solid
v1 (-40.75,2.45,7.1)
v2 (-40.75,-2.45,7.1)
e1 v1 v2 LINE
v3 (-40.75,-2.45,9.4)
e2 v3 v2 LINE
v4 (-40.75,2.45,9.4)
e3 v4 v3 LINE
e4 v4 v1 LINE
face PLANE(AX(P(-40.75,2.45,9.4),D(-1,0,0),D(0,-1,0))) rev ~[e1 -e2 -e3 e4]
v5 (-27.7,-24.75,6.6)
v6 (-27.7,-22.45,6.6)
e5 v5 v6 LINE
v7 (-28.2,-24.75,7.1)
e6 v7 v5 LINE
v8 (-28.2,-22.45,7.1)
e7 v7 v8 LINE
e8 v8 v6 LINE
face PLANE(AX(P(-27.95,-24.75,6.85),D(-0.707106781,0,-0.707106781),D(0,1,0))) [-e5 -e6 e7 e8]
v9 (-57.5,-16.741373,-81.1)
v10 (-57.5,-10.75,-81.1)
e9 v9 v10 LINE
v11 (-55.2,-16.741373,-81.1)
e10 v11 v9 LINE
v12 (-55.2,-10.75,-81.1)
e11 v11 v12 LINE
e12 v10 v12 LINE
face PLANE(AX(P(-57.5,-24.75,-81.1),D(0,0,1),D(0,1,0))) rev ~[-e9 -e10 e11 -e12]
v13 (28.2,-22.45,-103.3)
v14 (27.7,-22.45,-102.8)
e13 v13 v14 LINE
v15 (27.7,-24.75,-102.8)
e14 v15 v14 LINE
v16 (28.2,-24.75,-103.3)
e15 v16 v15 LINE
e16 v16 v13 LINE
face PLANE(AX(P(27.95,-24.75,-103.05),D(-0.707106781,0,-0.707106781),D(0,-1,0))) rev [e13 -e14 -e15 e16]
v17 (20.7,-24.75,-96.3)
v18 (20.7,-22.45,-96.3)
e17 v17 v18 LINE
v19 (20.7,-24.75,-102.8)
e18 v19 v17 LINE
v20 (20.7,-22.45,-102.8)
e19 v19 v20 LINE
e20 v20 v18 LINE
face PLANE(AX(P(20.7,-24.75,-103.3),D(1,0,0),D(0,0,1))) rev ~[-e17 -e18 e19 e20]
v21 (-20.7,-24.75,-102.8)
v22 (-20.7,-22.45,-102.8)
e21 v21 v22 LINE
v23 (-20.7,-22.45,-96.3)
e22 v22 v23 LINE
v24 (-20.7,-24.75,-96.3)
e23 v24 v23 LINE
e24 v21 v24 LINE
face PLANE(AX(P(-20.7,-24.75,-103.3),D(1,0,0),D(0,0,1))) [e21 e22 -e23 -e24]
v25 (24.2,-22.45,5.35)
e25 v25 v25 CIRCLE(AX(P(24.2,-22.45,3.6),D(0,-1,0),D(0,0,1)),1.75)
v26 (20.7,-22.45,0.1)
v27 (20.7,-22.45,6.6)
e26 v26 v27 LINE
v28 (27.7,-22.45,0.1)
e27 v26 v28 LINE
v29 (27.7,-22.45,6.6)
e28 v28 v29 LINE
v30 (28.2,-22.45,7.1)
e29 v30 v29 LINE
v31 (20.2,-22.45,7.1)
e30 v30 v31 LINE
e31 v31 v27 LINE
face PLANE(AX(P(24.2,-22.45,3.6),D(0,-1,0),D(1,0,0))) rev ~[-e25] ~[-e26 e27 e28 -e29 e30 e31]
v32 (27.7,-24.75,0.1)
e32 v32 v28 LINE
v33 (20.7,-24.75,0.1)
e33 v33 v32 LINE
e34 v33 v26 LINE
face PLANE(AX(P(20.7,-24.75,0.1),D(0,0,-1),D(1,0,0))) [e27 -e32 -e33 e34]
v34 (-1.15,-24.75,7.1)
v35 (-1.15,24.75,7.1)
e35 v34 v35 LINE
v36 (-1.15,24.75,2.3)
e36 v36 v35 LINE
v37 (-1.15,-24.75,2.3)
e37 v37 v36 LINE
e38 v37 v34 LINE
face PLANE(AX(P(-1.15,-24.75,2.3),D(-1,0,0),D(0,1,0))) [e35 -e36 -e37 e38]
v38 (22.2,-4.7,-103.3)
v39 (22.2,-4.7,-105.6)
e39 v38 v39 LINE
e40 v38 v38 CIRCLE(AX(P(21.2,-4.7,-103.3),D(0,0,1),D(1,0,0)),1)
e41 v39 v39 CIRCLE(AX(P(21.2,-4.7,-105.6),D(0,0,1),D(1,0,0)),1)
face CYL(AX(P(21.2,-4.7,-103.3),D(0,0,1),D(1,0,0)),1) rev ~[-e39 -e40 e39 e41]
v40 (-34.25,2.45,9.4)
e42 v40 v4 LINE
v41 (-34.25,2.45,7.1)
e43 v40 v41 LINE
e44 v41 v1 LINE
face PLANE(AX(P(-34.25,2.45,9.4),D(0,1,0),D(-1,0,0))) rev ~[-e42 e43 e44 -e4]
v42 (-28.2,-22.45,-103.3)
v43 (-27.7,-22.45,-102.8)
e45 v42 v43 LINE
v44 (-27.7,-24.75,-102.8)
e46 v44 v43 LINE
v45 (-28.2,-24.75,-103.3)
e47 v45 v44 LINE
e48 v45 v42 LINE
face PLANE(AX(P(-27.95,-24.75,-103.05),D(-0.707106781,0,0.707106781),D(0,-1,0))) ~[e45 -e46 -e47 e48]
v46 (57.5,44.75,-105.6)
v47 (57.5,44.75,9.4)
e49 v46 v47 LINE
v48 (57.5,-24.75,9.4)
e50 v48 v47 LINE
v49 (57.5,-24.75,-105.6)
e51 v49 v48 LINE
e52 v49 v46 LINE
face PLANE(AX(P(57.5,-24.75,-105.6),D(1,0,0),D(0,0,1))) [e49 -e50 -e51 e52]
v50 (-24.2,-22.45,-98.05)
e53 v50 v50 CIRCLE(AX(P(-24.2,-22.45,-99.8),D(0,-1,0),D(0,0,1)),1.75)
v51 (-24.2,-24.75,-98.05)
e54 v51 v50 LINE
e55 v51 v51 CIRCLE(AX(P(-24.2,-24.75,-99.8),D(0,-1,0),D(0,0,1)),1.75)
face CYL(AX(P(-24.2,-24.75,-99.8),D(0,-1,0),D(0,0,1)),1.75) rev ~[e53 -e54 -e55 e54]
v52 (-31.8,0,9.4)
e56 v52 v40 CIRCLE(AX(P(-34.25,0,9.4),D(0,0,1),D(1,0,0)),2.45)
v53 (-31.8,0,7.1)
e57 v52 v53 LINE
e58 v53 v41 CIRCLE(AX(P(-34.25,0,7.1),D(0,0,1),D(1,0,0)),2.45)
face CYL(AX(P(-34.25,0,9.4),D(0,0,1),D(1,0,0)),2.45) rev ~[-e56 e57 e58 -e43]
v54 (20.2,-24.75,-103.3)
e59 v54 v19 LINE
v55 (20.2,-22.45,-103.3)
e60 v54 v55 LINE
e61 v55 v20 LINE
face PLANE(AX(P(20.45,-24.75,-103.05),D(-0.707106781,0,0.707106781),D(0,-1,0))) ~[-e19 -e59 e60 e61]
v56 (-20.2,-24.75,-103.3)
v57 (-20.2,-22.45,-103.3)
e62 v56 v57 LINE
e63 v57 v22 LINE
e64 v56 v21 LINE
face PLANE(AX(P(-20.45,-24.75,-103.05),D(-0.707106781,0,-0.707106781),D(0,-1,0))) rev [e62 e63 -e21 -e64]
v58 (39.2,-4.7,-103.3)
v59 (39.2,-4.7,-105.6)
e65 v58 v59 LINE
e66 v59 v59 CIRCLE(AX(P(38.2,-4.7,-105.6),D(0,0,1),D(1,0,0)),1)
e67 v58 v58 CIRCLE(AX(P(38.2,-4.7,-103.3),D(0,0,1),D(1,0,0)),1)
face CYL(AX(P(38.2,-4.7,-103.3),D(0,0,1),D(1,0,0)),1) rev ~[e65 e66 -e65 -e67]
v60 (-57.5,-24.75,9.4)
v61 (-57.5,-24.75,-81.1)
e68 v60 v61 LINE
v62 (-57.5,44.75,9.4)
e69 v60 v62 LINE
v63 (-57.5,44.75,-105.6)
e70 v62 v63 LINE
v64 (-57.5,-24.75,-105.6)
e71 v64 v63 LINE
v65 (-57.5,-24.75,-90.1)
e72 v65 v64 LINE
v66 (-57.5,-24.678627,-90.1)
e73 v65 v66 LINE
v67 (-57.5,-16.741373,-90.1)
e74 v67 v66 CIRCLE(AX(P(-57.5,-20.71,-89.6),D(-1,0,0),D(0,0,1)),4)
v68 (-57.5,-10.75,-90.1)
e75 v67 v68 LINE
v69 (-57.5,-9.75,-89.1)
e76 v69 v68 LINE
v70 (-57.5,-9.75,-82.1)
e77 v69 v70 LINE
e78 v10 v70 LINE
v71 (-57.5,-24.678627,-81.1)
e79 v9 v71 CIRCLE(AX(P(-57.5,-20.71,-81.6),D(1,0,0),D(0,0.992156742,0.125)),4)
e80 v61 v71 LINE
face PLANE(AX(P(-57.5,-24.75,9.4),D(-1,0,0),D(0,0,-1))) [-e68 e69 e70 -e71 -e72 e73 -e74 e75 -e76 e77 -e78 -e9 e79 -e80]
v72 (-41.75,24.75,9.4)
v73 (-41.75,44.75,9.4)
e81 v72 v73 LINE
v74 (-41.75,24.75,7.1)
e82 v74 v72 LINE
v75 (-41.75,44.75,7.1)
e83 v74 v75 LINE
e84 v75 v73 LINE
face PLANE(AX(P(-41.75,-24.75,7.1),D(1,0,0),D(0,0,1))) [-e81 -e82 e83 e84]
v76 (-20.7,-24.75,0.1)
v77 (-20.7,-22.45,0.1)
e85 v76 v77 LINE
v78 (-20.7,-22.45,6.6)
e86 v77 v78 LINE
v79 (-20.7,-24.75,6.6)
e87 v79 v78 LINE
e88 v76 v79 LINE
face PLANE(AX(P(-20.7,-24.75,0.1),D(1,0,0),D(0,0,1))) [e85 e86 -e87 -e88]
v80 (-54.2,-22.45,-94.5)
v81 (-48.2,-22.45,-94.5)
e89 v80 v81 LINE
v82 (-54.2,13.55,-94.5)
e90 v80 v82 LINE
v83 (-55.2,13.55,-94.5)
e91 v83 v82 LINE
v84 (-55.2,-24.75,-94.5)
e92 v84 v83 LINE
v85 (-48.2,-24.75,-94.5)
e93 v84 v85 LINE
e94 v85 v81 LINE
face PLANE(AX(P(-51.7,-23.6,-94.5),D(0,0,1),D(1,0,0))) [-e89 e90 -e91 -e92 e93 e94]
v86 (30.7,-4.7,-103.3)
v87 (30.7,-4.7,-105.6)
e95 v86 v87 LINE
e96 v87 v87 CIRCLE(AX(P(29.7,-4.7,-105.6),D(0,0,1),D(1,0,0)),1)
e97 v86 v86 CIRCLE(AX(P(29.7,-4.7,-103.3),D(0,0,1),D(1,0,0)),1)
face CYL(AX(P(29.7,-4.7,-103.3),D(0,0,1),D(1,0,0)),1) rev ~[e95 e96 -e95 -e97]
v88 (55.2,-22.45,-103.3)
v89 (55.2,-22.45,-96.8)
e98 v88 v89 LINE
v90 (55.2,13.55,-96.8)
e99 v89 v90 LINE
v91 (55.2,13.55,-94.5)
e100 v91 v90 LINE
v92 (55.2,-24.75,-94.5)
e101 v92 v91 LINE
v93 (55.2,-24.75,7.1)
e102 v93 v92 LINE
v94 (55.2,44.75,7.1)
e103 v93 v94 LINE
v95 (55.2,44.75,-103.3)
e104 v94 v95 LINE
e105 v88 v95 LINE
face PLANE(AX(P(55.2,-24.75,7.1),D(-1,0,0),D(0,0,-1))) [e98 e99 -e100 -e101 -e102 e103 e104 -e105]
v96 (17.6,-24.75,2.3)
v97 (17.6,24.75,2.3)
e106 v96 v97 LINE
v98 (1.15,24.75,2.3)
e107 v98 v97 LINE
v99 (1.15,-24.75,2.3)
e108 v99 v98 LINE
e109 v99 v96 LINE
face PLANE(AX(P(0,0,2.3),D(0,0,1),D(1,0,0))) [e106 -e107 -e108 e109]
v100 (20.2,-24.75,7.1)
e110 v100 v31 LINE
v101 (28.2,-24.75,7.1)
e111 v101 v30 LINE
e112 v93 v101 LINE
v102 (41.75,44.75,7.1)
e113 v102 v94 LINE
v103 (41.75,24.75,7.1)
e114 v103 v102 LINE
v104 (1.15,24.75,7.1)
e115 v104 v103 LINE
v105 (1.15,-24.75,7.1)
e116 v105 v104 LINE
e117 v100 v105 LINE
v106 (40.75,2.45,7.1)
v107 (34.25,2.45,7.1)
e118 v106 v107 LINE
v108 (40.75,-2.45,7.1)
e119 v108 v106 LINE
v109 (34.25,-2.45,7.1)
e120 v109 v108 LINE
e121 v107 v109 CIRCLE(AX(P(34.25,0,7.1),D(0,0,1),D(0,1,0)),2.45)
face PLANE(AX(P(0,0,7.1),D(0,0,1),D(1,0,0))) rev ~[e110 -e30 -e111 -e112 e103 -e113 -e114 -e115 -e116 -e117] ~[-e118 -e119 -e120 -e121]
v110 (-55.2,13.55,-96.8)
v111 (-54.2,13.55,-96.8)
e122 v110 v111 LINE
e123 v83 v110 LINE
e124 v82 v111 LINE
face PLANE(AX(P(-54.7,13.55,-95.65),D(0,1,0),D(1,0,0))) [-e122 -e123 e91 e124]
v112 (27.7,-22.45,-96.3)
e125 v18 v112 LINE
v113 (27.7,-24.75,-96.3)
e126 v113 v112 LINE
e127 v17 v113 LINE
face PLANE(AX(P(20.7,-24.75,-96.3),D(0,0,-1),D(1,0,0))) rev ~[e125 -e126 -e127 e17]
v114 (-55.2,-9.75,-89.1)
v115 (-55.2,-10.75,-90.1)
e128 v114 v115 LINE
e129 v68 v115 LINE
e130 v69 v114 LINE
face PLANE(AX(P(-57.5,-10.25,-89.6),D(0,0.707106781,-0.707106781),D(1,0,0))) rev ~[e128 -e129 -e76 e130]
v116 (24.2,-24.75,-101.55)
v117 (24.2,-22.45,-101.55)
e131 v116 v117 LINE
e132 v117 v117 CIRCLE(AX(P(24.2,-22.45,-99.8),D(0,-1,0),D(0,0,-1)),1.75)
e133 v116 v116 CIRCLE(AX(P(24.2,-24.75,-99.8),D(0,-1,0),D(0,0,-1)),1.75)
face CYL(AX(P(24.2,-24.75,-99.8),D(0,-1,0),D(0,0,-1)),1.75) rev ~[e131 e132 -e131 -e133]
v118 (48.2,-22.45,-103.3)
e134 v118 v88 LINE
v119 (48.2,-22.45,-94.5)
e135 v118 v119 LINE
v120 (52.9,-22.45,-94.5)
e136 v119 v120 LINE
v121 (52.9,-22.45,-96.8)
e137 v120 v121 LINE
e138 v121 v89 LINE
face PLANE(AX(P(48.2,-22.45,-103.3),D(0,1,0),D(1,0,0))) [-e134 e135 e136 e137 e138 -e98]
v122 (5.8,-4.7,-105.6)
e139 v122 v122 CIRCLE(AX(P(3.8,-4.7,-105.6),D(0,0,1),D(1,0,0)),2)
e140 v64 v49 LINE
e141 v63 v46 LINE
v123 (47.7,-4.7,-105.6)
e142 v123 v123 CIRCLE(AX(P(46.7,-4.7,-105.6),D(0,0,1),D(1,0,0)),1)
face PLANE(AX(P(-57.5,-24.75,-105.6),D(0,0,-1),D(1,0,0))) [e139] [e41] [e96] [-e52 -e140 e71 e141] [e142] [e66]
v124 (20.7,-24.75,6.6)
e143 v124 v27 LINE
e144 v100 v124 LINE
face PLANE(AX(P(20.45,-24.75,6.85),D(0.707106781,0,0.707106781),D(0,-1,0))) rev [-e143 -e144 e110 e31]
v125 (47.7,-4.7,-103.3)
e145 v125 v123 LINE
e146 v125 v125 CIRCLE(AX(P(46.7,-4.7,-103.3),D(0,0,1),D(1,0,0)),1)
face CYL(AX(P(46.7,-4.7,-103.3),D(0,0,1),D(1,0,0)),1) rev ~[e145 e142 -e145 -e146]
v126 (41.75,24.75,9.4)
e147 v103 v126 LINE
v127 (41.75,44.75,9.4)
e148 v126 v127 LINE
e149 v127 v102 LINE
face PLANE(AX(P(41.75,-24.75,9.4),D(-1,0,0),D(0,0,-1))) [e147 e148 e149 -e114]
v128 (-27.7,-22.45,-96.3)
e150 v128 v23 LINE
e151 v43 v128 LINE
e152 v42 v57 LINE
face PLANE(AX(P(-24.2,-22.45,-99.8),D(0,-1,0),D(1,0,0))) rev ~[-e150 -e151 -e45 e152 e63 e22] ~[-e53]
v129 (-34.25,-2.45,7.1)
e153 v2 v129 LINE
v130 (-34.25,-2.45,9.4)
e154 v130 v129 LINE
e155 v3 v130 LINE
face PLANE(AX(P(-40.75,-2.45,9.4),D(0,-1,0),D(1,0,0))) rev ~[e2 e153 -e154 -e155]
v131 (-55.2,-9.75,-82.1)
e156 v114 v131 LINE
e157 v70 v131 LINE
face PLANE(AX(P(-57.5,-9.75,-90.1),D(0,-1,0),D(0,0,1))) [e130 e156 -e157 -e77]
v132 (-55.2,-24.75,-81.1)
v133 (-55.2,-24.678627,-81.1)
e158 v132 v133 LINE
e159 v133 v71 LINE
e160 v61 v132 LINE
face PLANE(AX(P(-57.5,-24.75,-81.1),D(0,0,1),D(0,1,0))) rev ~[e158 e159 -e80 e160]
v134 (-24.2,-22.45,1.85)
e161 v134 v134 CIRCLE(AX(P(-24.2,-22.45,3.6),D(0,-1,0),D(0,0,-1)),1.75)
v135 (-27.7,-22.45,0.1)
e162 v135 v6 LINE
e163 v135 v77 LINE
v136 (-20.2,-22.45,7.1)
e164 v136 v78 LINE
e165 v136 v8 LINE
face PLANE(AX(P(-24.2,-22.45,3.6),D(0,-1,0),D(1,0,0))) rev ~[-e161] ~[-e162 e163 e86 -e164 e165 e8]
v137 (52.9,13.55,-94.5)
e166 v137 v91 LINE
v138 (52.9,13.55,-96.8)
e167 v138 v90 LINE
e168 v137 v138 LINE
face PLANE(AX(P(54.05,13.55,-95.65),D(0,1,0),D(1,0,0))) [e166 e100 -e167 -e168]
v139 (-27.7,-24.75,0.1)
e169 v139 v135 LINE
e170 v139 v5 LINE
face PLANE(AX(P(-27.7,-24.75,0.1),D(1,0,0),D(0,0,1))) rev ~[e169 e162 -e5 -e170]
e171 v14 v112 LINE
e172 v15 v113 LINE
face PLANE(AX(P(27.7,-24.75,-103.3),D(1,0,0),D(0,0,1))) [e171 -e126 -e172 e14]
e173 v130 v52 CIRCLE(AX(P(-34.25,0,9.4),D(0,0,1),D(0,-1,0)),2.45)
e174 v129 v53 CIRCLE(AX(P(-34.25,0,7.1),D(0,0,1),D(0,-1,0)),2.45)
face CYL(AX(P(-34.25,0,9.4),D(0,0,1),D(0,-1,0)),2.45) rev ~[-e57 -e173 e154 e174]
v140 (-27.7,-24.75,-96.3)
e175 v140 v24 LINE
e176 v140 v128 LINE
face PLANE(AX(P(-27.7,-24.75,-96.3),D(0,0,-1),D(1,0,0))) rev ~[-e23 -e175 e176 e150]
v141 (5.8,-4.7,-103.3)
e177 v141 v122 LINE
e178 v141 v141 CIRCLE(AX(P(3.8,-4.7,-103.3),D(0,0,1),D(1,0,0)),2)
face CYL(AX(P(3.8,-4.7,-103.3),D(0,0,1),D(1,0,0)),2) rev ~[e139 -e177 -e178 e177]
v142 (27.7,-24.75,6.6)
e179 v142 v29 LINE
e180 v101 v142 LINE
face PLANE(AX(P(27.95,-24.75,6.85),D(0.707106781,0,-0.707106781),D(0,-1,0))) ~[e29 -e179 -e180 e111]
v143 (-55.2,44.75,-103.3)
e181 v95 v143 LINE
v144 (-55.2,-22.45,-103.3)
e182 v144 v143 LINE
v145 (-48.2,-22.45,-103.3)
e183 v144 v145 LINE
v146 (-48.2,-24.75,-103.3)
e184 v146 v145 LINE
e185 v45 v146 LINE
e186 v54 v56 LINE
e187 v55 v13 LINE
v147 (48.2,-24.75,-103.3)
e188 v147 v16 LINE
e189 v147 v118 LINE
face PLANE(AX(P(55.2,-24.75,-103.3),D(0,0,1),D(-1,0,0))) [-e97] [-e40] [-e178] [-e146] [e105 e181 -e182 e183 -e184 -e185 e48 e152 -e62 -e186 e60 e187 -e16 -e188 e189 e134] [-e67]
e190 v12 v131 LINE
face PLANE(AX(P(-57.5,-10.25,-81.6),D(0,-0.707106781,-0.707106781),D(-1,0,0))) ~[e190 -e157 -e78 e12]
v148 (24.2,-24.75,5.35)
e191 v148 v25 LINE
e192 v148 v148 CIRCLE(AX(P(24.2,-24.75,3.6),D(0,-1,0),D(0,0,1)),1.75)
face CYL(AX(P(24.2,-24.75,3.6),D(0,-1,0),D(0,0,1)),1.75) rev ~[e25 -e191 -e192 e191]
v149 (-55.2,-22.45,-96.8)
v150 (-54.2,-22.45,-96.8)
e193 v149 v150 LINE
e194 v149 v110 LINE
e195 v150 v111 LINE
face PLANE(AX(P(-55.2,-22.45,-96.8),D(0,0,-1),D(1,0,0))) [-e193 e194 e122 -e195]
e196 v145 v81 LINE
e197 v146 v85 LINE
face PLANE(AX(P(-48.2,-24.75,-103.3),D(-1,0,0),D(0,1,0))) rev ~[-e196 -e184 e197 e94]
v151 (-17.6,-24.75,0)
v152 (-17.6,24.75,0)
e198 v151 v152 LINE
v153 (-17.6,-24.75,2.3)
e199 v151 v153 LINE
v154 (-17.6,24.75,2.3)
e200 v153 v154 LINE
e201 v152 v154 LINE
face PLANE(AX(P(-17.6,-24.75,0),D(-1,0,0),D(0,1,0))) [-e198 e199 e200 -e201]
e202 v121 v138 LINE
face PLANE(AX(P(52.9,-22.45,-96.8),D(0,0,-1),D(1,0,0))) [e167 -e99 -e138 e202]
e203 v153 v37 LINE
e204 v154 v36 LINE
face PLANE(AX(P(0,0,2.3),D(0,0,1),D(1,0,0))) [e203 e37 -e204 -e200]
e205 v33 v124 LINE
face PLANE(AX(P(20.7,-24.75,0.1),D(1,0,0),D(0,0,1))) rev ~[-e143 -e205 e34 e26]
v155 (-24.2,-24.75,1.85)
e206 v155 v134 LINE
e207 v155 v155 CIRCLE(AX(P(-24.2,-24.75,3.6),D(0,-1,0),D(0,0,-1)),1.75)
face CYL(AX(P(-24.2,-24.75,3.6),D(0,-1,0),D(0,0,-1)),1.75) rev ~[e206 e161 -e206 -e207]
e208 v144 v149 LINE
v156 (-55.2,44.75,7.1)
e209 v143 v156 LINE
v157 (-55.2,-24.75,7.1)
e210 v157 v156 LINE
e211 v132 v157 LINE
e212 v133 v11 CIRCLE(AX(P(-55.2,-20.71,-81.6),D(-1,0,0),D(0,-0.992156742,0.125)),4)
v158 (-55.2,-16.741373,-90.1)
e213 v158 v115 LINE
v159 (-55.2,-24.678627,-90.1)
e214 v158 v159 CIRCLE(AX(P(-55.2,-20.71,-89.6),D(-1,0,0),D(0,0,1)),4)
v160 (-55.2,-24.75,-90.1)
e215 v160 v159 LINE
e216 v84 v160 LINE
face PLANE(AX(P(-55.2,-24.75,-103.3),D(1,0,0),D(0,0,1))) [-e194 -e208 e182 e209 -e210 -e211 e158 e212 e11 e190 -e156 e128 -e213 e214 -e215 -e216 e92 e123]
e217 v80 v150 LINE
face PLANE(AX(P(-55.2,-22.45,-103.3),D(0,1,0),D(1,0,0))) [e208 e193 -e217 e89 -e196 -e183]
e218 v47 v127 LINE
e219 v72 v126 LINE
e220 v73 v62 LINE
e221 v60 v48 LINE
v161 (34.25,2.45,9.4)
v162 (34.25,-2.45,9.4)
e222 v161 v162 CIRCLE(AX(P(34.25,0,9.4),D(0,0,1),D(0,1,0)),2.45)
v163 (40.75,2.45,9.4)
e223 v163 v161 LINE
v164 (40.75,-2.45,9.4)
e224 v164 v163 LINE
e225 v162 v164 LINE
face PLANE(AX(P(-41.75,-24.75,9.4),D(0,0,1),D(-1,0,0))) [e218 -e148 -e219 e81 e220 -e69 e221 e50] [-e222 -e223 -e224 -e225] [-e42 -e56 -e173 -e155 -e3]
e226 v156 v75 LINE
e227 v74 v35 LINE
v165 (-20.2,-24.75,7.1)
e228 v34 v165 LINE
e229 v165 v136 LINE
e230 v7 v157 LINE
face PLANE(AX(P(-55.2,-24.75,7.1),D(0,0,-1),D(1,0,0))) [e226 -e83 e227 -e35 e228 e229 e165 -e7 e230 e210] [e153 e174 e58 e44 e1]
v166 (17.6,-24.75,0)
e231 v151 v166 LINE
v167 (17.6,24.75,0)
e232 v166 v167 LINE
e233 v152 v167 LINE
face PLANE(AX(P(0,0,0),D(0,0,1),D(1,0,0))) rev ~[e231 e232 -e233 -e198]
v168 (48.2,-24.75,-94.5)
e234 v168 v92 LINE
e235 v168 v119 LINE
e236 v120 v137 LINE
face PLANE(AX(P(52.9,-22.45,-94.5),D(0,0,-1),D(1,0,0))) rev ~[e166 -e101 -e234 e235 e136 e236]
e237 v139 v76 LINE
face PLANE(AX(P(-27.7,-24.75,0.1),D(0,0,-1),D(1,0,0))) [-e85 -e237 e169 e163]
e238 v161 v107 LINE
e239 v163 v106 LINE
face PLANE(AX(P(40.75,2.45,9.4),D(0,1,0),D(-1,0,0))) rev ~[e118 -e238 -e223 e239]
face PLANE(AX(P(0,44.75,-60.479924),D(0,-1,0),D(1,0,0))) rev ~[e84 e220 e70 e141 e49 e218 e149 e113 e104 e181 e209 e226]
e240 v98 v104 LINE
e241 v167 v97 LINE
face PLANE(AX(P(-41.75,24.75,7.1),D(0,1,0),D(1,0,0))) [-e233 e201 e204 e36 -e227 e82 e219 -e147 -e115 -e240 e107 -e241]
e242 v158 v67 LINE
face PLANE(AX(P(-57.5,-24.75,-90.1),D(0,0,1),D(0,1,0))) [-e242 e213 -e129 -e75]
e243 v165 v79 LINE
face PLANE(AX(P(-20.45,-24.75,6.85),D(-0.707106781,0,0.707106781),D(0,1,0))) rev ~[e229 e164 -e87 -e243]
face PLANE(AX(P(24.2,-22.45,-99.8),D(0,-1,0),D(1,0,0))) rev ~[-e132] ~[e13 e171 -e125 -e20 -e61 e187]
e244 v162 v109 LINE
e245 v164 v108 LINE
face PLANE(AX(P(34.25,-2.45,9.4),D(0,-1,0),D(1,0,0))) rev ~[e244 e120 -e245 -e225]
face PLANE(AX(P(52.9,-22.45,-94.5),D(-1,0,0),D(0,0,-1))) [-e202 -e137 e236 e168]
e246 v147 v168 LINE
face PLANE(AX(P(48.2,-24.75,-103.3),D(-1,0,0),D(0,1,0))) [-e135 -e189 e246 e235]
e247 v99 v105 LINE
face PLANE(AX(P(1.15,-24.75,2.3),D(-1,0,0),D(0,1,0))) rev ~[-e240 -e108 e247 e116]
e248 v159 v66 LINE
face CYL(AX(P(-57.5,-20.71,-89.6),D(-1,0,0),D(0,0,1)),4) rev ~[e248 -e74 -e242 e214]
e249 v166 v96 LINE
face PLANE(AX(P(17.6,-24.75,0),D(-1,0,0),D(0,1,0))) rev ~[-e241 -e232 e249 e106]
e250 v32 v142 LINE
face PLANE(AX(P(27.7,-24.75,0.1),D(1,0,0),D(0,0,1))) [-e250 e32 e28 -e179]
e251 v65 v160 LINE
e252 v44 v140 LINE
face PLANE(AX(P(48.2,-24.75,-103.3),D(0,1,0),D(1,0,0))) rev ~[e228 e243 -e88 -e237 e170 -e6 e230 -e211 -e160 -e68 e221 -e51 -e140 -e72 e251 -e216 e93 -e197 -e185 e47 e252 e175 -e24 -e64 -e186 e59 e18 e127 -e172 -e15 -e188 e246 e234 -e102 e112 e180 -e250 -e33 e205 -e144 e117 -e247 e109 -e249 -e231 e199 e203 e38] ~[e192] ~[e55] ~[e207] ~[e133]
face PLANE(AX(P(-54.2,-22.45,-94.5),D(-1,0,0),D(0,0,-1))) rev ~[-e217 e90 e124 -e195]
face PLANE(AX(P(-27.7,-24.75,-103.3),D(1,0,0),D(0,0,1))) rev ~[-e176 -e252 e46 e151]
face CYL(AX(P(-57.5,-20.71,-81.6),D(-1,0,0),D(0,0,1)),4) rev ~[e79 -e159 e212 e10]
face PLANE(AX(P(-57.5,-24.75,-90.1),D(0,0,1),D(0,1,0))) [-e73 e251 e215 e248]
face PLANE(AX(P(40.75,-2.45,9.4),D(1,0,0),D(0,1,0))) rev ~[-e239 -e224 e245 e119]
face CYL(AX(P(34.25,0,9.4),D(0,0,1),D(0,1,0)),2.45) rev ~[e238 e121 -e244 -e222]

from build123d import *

# Parameters (mm, degrees)
SKETCH1_W            = 35.2
SKETCH1_H            = 49.5
BOSS_EXTRUDE1_DEPTH  = 2.3
SKETCH2_W            = 2.3
SKETCH2_H            = 49.5
BOSS_EXTRUDE2_DEPTH  = 4.8
SKETCH3_W            = 83.5
SKETCH3_H            = 49.5
BOSS_EXTRUDE3_DEPTH  = 2.3
CUT_EXTRUDE1_DEPTH   = 50.436676668
BOSS_EXTRUDE10_DEPTH = 69.5
SKETCH7_W            = 7
SKETCH7_H            = 7
SKETCH7_R            = 1.75
BOSS_EXTRUDE7_DEPTH  = 2.3
CHAMFER1_SIZE        = 0.5
SKETCH12_W           = 7
SKETCH12_H           = 2.3
BOSS_EXTRUDE11_DEPTH = 8.8
SKETCH13_W           = 2.3
SKETCH13_H           = 2.3
SKETCH13_W_2         = 1
BOSS_EXTRUDE12_DEPTH = 36
SKETCH14_R           = 1
SKETCH14_R_2         = 2
CUT_EXTRUDE3_DEPTH   = 135.201723163
CUT_EXTRUDE4_REACH   = 164.416
SKETCH18_R           = 4
SKETCH18_W           = 9
SKETCH18_H           = 15
CHAMFER2_SIZE        = 1


with BuildPart() as part:
    # Sketch1 → Boss-Extrude1 (new body)
    with BuildSketch(Plane.XY):
        Rectangle(SKETCH1_W, SKETCH1_H)
    extrude(amount=BOSS_EXTRUDE1_DEPTH)

    # Sketch2 → Boss-Extrude2 (add)
    with BuildSketch(Plane.XY.offset(2.3)):
        Rectangle(SKETCH2_W, SKETCH2_H)
    extrude(amount=BOSS_EXTRUDE2_DEPTH)

    # Sketch3 → Boss-Extrude3 (add)
    with BuildSketch(Plane.XY.offset(7.1)):
        Rectangle(SKETCH3_W, SKETCH3_H)
    extrude(amount=BOSS_EXTRUDE3_DEPTH)

    # Sketch4 → Cut-Extrude1 (cut, through all)
    with BuildSketch(Plane.XY.offset(9.4)):
        with BuildLine():
            Line((-34.25, 2.45), (-40.75, 2.45))
            Line((-40.75, 2.45), (-40.75, -2.45))
            Line((-40.75, -2.45), (-34.25, -2.45))
            ThreePointArc((-34.25, -2.45), (-36.7, 0), (-34.25, 2.45))
        make_face()
        with BuildLine():
            ThreePointArc((-31.8, 0), (-32.517588386, 1.732411614), (-34.25, 2.45))
            Line((-34.25, 2.45), (-34.25, -2.45))
            ThreePointArc((-34.25, -2.45), (-32.517588386, -1.732411614), (-31.8, 0))
        make_face()
        with BuildLine():
            Line((-34.25, -2.45), (-34.25, 2.45))
            ThreePointArc((-34.25, 2.45), (-36.7, 0), (-34.25, -2.45))
        make_face()
        with BuildLine():
            ThreePointArc((34.25, 2.45), (31.8, 0), (34.25, -2.45))
            Line((34.25, -2.45), (34.25, 2.45))
        make_face()
        with BuildLine():
            Line((34.25, 2.45), (34.25, -2.45))
            ThreePointArc((34.25, -2.45), (35.982411614, -1.732411614), (36.7, 0))
            ThreePointArc((36.7, 0), (35.982411614, 1.732411614), (34.25, 2.45))
        make_face()
        with BuildLine():
            Line((34.25, -2.45), (40.75, -2.45))
            Line((40.75, -2.45), (40.75, 2.45))
            Line((40.75, 2.45), (34.25, 2.45))
            ThreePointArc((34.25, 2.45), (35.982411614, 1.732411614), (36.7, 0))
            ThreePointArc((36.7, 0), (35.982411614, -1.732411614), (34.25, -2.45))
        make_face()
    extrude(amount=-CUT_EXTRUDE1_DEPTH, mode=Mode.SUBTRACT)

    # Sketch10 → Boss-Extrude10 (add)
    with BuildSketch(Plane.XZ.offset(24.75)):
        Polygon((-41.75, 7.1), (-41.75, 9.4), (-57.5, 9.4), (-57.5, -105.6), (57.5, -105.6), (57.5, 9.4), (41.75, 9.4), (41.75, 7.1), (55.2, 7.1), (55.2, -103.3), (-55.2, -103.3), (-55.2, 7.1), align=None)
    extrude(amount=-BOSS_EXTRUDE10_DEPTH)

    # Sketch7 → Boss-Extrude7 (add)
    with BuildSketch(Plane.XZ.offset(24.75)):
        with Locations((-24.2, 3.6)):
            Rectangle(SKETCH7_W, SKETCH7_H)
        with Locations(Location((-24.2, 3.6, 0), (0, 0, 270))):
            Circle(SKETCH7_R, mode=Mode.SUBTRACT)
        with Locations((24.2, 3.6)):
            Rectangle(SKETCH7_W, SKETCH7_H)
        with Locations(Location((24.2, 3.6, 0), (0, 0, 90))):
            Circle(SKETCH7_R, mode=Mode.SUBTRACT)
        with Locations((24.2, -99.8)):
            Rectangle(SKETCH7_W, SKETCH7_H)
        with Locations(Location((24.2, -99.8, 0), (0, 0, 270))):
            Circle(SKETCH7_R, mode=Mode.SUBTRACT)
        with Locations((-24.2, -99.8)):
            Rectangle(SKETCH7_W, SKETCH7_H)
        with Locations(Location((-24.2, -99.8, 0), (0, 0, 90))):
            Circle(SKETCH7_R, mode=Mode.SUBTRACT)
    extrude(amount=-BOSS_EXTRUDE7_DEPTH)

    # Chamfer1
    chamfer1_edges = [part.edges().sort_by_distance(p)[0] for p in [
        (-27.7, -23.6, 7.1),
        (-20.7, -23.6, 7.1),
        (27.7, -23.6, 7.1),
        (20.7, -23.6, 7.1),
        (27.7, -23.6, -103.3),
        (20.7, -23.6, -103.3),
        (-27.7, -23.6, -103.3),
        (-20.7, -23.6, -103.3),
    ]]
    chamfer(chamfer1_edges, length=CHAMFER1_SIZE)

    # Sketch12 → Boss-Extrude11 (add)
    with BuildSketch(Plane.XY.offset(-103.3)):
        with Locations((51.7, -23.6)):
            Rectangle(SKETCH12_W, SKETCH12_H)
        with Locations((-51.7, -23.6)):
            Rectangle(SKETCH12_W, SKETCH12_H)
    extrude(amount=BOSS_EXTRUDE11_DEPTH)

    # Sketch13 → Boss-Extrude12 (add)
    with BuildSketch(Plane(origin=(0, -22.45, 0), x_dir=(1, 0, 0), z_dir=(0, 1, 0))):
        with Locations((54.05, 95.65)):
            Rectangle(SKETCH13_W, SKETCH13_H)
        with Locations((-54.7, 95.65)):
            Rectangle(SKETCH13_W_2, SKETCH13_H)
    extrude(amount=BOSS_EXTRUDE12_DEPTH)

    # Sketch14 → Cut-Extrude3 (cut, through all)
    with BuildSketch(Plane.XY.offset(-103.3)):
        with Locations((46.7, -4.7)):
            Circle(SKETCH14_R)
        with Locations((38.2, -4.7)):
            Circle(SKETCH14_R)
        with Locations((29.7, -4.7)):
            Circle(SKETCH14_R)
        with Locations((21.2, -4.7)):
            Circle(SKETCH14_R)
        with Locations((3.8, -4.7)):
            Circle(SKETCH14_R_2)
    extrude(amount=-CUT_EXTRUDE3_DEPTH, mode=Mode.SUBTRACT)

    # Sketch18 → Cut-Extrude4 (cut, up to next)
    with BuildSketch(Plane.ZY.offset(57.5), mode=Mode.PRIVATE) as cut_extrude4_sk1:
        with Locations((-89.6, -20.71)):
            Circle(SKETCH18_R)
    cut_extrude4_tool1 = extrude(cut_extrude4_sk1.sketch, amount=-CUT_EXTRUDE4_REACH, mode=Mode.PRIVATE) & part.part
    # Sketch18 → Cut-Extrude4 (cut, up to next)
    with BuildSketch(Plane.ZY.offset(57.5), mode=Mode.PRIVATE) as cut_extrude4_sk2:
        with Locations((-81.6, -20.71)):
            Circle(SKETCH18_R)
    cut_extrude4_tool2 = extrude(cut_extrude4_sk2.sketch, amount=-CUT_EXTRUDE4_REACH, mode=Mode.PRIVATE) & part.part
    # Sketch18 → Cut-Extrude4 (cut, up to next)
    with BuildSketch(Plane.ZY.offset(57.5), mode=Mode.PRIVATE) as cut_extrude4_sk3:
        with Locations((-85.6, -17.25)):
            Rectangle(SKETCH18_W, SKETCH18_H)
    cut_extrude4_tool3 = extrude(cut_extrude4_sk3.sketch, amount=-CUT_EXTRUDE4_REACH, mode=Mode.PRIVATE) & part.part
    add(cut_extrude4_tool1.solids().sort_by_distance((-57.5, -20.71, -89.6))[0], mode=Mode.SUBTRACT)
    add(cut_extrude4_tool2.solids().sort_by_distance((-57.5, -20.71, -81.6))[0], mode=Mode.SUBTRACT)
    add(cut_extrude4_tool3.solids().sort_by_distance((-57.5, -17.25, -85.6))[0], mode=Mode.SUBTRACT)

    # Chamfer2
    chamfer2_edges = [part.edges().sort_by_distance(p)[0] for p in [
        (-56.35, -9.75, -81.1),
        (-56.35, -9.75, -90.1),
    ]]
    chamfer(chamfer2_edges, length=CHAMFER2_SIZE)


solid = part.part
